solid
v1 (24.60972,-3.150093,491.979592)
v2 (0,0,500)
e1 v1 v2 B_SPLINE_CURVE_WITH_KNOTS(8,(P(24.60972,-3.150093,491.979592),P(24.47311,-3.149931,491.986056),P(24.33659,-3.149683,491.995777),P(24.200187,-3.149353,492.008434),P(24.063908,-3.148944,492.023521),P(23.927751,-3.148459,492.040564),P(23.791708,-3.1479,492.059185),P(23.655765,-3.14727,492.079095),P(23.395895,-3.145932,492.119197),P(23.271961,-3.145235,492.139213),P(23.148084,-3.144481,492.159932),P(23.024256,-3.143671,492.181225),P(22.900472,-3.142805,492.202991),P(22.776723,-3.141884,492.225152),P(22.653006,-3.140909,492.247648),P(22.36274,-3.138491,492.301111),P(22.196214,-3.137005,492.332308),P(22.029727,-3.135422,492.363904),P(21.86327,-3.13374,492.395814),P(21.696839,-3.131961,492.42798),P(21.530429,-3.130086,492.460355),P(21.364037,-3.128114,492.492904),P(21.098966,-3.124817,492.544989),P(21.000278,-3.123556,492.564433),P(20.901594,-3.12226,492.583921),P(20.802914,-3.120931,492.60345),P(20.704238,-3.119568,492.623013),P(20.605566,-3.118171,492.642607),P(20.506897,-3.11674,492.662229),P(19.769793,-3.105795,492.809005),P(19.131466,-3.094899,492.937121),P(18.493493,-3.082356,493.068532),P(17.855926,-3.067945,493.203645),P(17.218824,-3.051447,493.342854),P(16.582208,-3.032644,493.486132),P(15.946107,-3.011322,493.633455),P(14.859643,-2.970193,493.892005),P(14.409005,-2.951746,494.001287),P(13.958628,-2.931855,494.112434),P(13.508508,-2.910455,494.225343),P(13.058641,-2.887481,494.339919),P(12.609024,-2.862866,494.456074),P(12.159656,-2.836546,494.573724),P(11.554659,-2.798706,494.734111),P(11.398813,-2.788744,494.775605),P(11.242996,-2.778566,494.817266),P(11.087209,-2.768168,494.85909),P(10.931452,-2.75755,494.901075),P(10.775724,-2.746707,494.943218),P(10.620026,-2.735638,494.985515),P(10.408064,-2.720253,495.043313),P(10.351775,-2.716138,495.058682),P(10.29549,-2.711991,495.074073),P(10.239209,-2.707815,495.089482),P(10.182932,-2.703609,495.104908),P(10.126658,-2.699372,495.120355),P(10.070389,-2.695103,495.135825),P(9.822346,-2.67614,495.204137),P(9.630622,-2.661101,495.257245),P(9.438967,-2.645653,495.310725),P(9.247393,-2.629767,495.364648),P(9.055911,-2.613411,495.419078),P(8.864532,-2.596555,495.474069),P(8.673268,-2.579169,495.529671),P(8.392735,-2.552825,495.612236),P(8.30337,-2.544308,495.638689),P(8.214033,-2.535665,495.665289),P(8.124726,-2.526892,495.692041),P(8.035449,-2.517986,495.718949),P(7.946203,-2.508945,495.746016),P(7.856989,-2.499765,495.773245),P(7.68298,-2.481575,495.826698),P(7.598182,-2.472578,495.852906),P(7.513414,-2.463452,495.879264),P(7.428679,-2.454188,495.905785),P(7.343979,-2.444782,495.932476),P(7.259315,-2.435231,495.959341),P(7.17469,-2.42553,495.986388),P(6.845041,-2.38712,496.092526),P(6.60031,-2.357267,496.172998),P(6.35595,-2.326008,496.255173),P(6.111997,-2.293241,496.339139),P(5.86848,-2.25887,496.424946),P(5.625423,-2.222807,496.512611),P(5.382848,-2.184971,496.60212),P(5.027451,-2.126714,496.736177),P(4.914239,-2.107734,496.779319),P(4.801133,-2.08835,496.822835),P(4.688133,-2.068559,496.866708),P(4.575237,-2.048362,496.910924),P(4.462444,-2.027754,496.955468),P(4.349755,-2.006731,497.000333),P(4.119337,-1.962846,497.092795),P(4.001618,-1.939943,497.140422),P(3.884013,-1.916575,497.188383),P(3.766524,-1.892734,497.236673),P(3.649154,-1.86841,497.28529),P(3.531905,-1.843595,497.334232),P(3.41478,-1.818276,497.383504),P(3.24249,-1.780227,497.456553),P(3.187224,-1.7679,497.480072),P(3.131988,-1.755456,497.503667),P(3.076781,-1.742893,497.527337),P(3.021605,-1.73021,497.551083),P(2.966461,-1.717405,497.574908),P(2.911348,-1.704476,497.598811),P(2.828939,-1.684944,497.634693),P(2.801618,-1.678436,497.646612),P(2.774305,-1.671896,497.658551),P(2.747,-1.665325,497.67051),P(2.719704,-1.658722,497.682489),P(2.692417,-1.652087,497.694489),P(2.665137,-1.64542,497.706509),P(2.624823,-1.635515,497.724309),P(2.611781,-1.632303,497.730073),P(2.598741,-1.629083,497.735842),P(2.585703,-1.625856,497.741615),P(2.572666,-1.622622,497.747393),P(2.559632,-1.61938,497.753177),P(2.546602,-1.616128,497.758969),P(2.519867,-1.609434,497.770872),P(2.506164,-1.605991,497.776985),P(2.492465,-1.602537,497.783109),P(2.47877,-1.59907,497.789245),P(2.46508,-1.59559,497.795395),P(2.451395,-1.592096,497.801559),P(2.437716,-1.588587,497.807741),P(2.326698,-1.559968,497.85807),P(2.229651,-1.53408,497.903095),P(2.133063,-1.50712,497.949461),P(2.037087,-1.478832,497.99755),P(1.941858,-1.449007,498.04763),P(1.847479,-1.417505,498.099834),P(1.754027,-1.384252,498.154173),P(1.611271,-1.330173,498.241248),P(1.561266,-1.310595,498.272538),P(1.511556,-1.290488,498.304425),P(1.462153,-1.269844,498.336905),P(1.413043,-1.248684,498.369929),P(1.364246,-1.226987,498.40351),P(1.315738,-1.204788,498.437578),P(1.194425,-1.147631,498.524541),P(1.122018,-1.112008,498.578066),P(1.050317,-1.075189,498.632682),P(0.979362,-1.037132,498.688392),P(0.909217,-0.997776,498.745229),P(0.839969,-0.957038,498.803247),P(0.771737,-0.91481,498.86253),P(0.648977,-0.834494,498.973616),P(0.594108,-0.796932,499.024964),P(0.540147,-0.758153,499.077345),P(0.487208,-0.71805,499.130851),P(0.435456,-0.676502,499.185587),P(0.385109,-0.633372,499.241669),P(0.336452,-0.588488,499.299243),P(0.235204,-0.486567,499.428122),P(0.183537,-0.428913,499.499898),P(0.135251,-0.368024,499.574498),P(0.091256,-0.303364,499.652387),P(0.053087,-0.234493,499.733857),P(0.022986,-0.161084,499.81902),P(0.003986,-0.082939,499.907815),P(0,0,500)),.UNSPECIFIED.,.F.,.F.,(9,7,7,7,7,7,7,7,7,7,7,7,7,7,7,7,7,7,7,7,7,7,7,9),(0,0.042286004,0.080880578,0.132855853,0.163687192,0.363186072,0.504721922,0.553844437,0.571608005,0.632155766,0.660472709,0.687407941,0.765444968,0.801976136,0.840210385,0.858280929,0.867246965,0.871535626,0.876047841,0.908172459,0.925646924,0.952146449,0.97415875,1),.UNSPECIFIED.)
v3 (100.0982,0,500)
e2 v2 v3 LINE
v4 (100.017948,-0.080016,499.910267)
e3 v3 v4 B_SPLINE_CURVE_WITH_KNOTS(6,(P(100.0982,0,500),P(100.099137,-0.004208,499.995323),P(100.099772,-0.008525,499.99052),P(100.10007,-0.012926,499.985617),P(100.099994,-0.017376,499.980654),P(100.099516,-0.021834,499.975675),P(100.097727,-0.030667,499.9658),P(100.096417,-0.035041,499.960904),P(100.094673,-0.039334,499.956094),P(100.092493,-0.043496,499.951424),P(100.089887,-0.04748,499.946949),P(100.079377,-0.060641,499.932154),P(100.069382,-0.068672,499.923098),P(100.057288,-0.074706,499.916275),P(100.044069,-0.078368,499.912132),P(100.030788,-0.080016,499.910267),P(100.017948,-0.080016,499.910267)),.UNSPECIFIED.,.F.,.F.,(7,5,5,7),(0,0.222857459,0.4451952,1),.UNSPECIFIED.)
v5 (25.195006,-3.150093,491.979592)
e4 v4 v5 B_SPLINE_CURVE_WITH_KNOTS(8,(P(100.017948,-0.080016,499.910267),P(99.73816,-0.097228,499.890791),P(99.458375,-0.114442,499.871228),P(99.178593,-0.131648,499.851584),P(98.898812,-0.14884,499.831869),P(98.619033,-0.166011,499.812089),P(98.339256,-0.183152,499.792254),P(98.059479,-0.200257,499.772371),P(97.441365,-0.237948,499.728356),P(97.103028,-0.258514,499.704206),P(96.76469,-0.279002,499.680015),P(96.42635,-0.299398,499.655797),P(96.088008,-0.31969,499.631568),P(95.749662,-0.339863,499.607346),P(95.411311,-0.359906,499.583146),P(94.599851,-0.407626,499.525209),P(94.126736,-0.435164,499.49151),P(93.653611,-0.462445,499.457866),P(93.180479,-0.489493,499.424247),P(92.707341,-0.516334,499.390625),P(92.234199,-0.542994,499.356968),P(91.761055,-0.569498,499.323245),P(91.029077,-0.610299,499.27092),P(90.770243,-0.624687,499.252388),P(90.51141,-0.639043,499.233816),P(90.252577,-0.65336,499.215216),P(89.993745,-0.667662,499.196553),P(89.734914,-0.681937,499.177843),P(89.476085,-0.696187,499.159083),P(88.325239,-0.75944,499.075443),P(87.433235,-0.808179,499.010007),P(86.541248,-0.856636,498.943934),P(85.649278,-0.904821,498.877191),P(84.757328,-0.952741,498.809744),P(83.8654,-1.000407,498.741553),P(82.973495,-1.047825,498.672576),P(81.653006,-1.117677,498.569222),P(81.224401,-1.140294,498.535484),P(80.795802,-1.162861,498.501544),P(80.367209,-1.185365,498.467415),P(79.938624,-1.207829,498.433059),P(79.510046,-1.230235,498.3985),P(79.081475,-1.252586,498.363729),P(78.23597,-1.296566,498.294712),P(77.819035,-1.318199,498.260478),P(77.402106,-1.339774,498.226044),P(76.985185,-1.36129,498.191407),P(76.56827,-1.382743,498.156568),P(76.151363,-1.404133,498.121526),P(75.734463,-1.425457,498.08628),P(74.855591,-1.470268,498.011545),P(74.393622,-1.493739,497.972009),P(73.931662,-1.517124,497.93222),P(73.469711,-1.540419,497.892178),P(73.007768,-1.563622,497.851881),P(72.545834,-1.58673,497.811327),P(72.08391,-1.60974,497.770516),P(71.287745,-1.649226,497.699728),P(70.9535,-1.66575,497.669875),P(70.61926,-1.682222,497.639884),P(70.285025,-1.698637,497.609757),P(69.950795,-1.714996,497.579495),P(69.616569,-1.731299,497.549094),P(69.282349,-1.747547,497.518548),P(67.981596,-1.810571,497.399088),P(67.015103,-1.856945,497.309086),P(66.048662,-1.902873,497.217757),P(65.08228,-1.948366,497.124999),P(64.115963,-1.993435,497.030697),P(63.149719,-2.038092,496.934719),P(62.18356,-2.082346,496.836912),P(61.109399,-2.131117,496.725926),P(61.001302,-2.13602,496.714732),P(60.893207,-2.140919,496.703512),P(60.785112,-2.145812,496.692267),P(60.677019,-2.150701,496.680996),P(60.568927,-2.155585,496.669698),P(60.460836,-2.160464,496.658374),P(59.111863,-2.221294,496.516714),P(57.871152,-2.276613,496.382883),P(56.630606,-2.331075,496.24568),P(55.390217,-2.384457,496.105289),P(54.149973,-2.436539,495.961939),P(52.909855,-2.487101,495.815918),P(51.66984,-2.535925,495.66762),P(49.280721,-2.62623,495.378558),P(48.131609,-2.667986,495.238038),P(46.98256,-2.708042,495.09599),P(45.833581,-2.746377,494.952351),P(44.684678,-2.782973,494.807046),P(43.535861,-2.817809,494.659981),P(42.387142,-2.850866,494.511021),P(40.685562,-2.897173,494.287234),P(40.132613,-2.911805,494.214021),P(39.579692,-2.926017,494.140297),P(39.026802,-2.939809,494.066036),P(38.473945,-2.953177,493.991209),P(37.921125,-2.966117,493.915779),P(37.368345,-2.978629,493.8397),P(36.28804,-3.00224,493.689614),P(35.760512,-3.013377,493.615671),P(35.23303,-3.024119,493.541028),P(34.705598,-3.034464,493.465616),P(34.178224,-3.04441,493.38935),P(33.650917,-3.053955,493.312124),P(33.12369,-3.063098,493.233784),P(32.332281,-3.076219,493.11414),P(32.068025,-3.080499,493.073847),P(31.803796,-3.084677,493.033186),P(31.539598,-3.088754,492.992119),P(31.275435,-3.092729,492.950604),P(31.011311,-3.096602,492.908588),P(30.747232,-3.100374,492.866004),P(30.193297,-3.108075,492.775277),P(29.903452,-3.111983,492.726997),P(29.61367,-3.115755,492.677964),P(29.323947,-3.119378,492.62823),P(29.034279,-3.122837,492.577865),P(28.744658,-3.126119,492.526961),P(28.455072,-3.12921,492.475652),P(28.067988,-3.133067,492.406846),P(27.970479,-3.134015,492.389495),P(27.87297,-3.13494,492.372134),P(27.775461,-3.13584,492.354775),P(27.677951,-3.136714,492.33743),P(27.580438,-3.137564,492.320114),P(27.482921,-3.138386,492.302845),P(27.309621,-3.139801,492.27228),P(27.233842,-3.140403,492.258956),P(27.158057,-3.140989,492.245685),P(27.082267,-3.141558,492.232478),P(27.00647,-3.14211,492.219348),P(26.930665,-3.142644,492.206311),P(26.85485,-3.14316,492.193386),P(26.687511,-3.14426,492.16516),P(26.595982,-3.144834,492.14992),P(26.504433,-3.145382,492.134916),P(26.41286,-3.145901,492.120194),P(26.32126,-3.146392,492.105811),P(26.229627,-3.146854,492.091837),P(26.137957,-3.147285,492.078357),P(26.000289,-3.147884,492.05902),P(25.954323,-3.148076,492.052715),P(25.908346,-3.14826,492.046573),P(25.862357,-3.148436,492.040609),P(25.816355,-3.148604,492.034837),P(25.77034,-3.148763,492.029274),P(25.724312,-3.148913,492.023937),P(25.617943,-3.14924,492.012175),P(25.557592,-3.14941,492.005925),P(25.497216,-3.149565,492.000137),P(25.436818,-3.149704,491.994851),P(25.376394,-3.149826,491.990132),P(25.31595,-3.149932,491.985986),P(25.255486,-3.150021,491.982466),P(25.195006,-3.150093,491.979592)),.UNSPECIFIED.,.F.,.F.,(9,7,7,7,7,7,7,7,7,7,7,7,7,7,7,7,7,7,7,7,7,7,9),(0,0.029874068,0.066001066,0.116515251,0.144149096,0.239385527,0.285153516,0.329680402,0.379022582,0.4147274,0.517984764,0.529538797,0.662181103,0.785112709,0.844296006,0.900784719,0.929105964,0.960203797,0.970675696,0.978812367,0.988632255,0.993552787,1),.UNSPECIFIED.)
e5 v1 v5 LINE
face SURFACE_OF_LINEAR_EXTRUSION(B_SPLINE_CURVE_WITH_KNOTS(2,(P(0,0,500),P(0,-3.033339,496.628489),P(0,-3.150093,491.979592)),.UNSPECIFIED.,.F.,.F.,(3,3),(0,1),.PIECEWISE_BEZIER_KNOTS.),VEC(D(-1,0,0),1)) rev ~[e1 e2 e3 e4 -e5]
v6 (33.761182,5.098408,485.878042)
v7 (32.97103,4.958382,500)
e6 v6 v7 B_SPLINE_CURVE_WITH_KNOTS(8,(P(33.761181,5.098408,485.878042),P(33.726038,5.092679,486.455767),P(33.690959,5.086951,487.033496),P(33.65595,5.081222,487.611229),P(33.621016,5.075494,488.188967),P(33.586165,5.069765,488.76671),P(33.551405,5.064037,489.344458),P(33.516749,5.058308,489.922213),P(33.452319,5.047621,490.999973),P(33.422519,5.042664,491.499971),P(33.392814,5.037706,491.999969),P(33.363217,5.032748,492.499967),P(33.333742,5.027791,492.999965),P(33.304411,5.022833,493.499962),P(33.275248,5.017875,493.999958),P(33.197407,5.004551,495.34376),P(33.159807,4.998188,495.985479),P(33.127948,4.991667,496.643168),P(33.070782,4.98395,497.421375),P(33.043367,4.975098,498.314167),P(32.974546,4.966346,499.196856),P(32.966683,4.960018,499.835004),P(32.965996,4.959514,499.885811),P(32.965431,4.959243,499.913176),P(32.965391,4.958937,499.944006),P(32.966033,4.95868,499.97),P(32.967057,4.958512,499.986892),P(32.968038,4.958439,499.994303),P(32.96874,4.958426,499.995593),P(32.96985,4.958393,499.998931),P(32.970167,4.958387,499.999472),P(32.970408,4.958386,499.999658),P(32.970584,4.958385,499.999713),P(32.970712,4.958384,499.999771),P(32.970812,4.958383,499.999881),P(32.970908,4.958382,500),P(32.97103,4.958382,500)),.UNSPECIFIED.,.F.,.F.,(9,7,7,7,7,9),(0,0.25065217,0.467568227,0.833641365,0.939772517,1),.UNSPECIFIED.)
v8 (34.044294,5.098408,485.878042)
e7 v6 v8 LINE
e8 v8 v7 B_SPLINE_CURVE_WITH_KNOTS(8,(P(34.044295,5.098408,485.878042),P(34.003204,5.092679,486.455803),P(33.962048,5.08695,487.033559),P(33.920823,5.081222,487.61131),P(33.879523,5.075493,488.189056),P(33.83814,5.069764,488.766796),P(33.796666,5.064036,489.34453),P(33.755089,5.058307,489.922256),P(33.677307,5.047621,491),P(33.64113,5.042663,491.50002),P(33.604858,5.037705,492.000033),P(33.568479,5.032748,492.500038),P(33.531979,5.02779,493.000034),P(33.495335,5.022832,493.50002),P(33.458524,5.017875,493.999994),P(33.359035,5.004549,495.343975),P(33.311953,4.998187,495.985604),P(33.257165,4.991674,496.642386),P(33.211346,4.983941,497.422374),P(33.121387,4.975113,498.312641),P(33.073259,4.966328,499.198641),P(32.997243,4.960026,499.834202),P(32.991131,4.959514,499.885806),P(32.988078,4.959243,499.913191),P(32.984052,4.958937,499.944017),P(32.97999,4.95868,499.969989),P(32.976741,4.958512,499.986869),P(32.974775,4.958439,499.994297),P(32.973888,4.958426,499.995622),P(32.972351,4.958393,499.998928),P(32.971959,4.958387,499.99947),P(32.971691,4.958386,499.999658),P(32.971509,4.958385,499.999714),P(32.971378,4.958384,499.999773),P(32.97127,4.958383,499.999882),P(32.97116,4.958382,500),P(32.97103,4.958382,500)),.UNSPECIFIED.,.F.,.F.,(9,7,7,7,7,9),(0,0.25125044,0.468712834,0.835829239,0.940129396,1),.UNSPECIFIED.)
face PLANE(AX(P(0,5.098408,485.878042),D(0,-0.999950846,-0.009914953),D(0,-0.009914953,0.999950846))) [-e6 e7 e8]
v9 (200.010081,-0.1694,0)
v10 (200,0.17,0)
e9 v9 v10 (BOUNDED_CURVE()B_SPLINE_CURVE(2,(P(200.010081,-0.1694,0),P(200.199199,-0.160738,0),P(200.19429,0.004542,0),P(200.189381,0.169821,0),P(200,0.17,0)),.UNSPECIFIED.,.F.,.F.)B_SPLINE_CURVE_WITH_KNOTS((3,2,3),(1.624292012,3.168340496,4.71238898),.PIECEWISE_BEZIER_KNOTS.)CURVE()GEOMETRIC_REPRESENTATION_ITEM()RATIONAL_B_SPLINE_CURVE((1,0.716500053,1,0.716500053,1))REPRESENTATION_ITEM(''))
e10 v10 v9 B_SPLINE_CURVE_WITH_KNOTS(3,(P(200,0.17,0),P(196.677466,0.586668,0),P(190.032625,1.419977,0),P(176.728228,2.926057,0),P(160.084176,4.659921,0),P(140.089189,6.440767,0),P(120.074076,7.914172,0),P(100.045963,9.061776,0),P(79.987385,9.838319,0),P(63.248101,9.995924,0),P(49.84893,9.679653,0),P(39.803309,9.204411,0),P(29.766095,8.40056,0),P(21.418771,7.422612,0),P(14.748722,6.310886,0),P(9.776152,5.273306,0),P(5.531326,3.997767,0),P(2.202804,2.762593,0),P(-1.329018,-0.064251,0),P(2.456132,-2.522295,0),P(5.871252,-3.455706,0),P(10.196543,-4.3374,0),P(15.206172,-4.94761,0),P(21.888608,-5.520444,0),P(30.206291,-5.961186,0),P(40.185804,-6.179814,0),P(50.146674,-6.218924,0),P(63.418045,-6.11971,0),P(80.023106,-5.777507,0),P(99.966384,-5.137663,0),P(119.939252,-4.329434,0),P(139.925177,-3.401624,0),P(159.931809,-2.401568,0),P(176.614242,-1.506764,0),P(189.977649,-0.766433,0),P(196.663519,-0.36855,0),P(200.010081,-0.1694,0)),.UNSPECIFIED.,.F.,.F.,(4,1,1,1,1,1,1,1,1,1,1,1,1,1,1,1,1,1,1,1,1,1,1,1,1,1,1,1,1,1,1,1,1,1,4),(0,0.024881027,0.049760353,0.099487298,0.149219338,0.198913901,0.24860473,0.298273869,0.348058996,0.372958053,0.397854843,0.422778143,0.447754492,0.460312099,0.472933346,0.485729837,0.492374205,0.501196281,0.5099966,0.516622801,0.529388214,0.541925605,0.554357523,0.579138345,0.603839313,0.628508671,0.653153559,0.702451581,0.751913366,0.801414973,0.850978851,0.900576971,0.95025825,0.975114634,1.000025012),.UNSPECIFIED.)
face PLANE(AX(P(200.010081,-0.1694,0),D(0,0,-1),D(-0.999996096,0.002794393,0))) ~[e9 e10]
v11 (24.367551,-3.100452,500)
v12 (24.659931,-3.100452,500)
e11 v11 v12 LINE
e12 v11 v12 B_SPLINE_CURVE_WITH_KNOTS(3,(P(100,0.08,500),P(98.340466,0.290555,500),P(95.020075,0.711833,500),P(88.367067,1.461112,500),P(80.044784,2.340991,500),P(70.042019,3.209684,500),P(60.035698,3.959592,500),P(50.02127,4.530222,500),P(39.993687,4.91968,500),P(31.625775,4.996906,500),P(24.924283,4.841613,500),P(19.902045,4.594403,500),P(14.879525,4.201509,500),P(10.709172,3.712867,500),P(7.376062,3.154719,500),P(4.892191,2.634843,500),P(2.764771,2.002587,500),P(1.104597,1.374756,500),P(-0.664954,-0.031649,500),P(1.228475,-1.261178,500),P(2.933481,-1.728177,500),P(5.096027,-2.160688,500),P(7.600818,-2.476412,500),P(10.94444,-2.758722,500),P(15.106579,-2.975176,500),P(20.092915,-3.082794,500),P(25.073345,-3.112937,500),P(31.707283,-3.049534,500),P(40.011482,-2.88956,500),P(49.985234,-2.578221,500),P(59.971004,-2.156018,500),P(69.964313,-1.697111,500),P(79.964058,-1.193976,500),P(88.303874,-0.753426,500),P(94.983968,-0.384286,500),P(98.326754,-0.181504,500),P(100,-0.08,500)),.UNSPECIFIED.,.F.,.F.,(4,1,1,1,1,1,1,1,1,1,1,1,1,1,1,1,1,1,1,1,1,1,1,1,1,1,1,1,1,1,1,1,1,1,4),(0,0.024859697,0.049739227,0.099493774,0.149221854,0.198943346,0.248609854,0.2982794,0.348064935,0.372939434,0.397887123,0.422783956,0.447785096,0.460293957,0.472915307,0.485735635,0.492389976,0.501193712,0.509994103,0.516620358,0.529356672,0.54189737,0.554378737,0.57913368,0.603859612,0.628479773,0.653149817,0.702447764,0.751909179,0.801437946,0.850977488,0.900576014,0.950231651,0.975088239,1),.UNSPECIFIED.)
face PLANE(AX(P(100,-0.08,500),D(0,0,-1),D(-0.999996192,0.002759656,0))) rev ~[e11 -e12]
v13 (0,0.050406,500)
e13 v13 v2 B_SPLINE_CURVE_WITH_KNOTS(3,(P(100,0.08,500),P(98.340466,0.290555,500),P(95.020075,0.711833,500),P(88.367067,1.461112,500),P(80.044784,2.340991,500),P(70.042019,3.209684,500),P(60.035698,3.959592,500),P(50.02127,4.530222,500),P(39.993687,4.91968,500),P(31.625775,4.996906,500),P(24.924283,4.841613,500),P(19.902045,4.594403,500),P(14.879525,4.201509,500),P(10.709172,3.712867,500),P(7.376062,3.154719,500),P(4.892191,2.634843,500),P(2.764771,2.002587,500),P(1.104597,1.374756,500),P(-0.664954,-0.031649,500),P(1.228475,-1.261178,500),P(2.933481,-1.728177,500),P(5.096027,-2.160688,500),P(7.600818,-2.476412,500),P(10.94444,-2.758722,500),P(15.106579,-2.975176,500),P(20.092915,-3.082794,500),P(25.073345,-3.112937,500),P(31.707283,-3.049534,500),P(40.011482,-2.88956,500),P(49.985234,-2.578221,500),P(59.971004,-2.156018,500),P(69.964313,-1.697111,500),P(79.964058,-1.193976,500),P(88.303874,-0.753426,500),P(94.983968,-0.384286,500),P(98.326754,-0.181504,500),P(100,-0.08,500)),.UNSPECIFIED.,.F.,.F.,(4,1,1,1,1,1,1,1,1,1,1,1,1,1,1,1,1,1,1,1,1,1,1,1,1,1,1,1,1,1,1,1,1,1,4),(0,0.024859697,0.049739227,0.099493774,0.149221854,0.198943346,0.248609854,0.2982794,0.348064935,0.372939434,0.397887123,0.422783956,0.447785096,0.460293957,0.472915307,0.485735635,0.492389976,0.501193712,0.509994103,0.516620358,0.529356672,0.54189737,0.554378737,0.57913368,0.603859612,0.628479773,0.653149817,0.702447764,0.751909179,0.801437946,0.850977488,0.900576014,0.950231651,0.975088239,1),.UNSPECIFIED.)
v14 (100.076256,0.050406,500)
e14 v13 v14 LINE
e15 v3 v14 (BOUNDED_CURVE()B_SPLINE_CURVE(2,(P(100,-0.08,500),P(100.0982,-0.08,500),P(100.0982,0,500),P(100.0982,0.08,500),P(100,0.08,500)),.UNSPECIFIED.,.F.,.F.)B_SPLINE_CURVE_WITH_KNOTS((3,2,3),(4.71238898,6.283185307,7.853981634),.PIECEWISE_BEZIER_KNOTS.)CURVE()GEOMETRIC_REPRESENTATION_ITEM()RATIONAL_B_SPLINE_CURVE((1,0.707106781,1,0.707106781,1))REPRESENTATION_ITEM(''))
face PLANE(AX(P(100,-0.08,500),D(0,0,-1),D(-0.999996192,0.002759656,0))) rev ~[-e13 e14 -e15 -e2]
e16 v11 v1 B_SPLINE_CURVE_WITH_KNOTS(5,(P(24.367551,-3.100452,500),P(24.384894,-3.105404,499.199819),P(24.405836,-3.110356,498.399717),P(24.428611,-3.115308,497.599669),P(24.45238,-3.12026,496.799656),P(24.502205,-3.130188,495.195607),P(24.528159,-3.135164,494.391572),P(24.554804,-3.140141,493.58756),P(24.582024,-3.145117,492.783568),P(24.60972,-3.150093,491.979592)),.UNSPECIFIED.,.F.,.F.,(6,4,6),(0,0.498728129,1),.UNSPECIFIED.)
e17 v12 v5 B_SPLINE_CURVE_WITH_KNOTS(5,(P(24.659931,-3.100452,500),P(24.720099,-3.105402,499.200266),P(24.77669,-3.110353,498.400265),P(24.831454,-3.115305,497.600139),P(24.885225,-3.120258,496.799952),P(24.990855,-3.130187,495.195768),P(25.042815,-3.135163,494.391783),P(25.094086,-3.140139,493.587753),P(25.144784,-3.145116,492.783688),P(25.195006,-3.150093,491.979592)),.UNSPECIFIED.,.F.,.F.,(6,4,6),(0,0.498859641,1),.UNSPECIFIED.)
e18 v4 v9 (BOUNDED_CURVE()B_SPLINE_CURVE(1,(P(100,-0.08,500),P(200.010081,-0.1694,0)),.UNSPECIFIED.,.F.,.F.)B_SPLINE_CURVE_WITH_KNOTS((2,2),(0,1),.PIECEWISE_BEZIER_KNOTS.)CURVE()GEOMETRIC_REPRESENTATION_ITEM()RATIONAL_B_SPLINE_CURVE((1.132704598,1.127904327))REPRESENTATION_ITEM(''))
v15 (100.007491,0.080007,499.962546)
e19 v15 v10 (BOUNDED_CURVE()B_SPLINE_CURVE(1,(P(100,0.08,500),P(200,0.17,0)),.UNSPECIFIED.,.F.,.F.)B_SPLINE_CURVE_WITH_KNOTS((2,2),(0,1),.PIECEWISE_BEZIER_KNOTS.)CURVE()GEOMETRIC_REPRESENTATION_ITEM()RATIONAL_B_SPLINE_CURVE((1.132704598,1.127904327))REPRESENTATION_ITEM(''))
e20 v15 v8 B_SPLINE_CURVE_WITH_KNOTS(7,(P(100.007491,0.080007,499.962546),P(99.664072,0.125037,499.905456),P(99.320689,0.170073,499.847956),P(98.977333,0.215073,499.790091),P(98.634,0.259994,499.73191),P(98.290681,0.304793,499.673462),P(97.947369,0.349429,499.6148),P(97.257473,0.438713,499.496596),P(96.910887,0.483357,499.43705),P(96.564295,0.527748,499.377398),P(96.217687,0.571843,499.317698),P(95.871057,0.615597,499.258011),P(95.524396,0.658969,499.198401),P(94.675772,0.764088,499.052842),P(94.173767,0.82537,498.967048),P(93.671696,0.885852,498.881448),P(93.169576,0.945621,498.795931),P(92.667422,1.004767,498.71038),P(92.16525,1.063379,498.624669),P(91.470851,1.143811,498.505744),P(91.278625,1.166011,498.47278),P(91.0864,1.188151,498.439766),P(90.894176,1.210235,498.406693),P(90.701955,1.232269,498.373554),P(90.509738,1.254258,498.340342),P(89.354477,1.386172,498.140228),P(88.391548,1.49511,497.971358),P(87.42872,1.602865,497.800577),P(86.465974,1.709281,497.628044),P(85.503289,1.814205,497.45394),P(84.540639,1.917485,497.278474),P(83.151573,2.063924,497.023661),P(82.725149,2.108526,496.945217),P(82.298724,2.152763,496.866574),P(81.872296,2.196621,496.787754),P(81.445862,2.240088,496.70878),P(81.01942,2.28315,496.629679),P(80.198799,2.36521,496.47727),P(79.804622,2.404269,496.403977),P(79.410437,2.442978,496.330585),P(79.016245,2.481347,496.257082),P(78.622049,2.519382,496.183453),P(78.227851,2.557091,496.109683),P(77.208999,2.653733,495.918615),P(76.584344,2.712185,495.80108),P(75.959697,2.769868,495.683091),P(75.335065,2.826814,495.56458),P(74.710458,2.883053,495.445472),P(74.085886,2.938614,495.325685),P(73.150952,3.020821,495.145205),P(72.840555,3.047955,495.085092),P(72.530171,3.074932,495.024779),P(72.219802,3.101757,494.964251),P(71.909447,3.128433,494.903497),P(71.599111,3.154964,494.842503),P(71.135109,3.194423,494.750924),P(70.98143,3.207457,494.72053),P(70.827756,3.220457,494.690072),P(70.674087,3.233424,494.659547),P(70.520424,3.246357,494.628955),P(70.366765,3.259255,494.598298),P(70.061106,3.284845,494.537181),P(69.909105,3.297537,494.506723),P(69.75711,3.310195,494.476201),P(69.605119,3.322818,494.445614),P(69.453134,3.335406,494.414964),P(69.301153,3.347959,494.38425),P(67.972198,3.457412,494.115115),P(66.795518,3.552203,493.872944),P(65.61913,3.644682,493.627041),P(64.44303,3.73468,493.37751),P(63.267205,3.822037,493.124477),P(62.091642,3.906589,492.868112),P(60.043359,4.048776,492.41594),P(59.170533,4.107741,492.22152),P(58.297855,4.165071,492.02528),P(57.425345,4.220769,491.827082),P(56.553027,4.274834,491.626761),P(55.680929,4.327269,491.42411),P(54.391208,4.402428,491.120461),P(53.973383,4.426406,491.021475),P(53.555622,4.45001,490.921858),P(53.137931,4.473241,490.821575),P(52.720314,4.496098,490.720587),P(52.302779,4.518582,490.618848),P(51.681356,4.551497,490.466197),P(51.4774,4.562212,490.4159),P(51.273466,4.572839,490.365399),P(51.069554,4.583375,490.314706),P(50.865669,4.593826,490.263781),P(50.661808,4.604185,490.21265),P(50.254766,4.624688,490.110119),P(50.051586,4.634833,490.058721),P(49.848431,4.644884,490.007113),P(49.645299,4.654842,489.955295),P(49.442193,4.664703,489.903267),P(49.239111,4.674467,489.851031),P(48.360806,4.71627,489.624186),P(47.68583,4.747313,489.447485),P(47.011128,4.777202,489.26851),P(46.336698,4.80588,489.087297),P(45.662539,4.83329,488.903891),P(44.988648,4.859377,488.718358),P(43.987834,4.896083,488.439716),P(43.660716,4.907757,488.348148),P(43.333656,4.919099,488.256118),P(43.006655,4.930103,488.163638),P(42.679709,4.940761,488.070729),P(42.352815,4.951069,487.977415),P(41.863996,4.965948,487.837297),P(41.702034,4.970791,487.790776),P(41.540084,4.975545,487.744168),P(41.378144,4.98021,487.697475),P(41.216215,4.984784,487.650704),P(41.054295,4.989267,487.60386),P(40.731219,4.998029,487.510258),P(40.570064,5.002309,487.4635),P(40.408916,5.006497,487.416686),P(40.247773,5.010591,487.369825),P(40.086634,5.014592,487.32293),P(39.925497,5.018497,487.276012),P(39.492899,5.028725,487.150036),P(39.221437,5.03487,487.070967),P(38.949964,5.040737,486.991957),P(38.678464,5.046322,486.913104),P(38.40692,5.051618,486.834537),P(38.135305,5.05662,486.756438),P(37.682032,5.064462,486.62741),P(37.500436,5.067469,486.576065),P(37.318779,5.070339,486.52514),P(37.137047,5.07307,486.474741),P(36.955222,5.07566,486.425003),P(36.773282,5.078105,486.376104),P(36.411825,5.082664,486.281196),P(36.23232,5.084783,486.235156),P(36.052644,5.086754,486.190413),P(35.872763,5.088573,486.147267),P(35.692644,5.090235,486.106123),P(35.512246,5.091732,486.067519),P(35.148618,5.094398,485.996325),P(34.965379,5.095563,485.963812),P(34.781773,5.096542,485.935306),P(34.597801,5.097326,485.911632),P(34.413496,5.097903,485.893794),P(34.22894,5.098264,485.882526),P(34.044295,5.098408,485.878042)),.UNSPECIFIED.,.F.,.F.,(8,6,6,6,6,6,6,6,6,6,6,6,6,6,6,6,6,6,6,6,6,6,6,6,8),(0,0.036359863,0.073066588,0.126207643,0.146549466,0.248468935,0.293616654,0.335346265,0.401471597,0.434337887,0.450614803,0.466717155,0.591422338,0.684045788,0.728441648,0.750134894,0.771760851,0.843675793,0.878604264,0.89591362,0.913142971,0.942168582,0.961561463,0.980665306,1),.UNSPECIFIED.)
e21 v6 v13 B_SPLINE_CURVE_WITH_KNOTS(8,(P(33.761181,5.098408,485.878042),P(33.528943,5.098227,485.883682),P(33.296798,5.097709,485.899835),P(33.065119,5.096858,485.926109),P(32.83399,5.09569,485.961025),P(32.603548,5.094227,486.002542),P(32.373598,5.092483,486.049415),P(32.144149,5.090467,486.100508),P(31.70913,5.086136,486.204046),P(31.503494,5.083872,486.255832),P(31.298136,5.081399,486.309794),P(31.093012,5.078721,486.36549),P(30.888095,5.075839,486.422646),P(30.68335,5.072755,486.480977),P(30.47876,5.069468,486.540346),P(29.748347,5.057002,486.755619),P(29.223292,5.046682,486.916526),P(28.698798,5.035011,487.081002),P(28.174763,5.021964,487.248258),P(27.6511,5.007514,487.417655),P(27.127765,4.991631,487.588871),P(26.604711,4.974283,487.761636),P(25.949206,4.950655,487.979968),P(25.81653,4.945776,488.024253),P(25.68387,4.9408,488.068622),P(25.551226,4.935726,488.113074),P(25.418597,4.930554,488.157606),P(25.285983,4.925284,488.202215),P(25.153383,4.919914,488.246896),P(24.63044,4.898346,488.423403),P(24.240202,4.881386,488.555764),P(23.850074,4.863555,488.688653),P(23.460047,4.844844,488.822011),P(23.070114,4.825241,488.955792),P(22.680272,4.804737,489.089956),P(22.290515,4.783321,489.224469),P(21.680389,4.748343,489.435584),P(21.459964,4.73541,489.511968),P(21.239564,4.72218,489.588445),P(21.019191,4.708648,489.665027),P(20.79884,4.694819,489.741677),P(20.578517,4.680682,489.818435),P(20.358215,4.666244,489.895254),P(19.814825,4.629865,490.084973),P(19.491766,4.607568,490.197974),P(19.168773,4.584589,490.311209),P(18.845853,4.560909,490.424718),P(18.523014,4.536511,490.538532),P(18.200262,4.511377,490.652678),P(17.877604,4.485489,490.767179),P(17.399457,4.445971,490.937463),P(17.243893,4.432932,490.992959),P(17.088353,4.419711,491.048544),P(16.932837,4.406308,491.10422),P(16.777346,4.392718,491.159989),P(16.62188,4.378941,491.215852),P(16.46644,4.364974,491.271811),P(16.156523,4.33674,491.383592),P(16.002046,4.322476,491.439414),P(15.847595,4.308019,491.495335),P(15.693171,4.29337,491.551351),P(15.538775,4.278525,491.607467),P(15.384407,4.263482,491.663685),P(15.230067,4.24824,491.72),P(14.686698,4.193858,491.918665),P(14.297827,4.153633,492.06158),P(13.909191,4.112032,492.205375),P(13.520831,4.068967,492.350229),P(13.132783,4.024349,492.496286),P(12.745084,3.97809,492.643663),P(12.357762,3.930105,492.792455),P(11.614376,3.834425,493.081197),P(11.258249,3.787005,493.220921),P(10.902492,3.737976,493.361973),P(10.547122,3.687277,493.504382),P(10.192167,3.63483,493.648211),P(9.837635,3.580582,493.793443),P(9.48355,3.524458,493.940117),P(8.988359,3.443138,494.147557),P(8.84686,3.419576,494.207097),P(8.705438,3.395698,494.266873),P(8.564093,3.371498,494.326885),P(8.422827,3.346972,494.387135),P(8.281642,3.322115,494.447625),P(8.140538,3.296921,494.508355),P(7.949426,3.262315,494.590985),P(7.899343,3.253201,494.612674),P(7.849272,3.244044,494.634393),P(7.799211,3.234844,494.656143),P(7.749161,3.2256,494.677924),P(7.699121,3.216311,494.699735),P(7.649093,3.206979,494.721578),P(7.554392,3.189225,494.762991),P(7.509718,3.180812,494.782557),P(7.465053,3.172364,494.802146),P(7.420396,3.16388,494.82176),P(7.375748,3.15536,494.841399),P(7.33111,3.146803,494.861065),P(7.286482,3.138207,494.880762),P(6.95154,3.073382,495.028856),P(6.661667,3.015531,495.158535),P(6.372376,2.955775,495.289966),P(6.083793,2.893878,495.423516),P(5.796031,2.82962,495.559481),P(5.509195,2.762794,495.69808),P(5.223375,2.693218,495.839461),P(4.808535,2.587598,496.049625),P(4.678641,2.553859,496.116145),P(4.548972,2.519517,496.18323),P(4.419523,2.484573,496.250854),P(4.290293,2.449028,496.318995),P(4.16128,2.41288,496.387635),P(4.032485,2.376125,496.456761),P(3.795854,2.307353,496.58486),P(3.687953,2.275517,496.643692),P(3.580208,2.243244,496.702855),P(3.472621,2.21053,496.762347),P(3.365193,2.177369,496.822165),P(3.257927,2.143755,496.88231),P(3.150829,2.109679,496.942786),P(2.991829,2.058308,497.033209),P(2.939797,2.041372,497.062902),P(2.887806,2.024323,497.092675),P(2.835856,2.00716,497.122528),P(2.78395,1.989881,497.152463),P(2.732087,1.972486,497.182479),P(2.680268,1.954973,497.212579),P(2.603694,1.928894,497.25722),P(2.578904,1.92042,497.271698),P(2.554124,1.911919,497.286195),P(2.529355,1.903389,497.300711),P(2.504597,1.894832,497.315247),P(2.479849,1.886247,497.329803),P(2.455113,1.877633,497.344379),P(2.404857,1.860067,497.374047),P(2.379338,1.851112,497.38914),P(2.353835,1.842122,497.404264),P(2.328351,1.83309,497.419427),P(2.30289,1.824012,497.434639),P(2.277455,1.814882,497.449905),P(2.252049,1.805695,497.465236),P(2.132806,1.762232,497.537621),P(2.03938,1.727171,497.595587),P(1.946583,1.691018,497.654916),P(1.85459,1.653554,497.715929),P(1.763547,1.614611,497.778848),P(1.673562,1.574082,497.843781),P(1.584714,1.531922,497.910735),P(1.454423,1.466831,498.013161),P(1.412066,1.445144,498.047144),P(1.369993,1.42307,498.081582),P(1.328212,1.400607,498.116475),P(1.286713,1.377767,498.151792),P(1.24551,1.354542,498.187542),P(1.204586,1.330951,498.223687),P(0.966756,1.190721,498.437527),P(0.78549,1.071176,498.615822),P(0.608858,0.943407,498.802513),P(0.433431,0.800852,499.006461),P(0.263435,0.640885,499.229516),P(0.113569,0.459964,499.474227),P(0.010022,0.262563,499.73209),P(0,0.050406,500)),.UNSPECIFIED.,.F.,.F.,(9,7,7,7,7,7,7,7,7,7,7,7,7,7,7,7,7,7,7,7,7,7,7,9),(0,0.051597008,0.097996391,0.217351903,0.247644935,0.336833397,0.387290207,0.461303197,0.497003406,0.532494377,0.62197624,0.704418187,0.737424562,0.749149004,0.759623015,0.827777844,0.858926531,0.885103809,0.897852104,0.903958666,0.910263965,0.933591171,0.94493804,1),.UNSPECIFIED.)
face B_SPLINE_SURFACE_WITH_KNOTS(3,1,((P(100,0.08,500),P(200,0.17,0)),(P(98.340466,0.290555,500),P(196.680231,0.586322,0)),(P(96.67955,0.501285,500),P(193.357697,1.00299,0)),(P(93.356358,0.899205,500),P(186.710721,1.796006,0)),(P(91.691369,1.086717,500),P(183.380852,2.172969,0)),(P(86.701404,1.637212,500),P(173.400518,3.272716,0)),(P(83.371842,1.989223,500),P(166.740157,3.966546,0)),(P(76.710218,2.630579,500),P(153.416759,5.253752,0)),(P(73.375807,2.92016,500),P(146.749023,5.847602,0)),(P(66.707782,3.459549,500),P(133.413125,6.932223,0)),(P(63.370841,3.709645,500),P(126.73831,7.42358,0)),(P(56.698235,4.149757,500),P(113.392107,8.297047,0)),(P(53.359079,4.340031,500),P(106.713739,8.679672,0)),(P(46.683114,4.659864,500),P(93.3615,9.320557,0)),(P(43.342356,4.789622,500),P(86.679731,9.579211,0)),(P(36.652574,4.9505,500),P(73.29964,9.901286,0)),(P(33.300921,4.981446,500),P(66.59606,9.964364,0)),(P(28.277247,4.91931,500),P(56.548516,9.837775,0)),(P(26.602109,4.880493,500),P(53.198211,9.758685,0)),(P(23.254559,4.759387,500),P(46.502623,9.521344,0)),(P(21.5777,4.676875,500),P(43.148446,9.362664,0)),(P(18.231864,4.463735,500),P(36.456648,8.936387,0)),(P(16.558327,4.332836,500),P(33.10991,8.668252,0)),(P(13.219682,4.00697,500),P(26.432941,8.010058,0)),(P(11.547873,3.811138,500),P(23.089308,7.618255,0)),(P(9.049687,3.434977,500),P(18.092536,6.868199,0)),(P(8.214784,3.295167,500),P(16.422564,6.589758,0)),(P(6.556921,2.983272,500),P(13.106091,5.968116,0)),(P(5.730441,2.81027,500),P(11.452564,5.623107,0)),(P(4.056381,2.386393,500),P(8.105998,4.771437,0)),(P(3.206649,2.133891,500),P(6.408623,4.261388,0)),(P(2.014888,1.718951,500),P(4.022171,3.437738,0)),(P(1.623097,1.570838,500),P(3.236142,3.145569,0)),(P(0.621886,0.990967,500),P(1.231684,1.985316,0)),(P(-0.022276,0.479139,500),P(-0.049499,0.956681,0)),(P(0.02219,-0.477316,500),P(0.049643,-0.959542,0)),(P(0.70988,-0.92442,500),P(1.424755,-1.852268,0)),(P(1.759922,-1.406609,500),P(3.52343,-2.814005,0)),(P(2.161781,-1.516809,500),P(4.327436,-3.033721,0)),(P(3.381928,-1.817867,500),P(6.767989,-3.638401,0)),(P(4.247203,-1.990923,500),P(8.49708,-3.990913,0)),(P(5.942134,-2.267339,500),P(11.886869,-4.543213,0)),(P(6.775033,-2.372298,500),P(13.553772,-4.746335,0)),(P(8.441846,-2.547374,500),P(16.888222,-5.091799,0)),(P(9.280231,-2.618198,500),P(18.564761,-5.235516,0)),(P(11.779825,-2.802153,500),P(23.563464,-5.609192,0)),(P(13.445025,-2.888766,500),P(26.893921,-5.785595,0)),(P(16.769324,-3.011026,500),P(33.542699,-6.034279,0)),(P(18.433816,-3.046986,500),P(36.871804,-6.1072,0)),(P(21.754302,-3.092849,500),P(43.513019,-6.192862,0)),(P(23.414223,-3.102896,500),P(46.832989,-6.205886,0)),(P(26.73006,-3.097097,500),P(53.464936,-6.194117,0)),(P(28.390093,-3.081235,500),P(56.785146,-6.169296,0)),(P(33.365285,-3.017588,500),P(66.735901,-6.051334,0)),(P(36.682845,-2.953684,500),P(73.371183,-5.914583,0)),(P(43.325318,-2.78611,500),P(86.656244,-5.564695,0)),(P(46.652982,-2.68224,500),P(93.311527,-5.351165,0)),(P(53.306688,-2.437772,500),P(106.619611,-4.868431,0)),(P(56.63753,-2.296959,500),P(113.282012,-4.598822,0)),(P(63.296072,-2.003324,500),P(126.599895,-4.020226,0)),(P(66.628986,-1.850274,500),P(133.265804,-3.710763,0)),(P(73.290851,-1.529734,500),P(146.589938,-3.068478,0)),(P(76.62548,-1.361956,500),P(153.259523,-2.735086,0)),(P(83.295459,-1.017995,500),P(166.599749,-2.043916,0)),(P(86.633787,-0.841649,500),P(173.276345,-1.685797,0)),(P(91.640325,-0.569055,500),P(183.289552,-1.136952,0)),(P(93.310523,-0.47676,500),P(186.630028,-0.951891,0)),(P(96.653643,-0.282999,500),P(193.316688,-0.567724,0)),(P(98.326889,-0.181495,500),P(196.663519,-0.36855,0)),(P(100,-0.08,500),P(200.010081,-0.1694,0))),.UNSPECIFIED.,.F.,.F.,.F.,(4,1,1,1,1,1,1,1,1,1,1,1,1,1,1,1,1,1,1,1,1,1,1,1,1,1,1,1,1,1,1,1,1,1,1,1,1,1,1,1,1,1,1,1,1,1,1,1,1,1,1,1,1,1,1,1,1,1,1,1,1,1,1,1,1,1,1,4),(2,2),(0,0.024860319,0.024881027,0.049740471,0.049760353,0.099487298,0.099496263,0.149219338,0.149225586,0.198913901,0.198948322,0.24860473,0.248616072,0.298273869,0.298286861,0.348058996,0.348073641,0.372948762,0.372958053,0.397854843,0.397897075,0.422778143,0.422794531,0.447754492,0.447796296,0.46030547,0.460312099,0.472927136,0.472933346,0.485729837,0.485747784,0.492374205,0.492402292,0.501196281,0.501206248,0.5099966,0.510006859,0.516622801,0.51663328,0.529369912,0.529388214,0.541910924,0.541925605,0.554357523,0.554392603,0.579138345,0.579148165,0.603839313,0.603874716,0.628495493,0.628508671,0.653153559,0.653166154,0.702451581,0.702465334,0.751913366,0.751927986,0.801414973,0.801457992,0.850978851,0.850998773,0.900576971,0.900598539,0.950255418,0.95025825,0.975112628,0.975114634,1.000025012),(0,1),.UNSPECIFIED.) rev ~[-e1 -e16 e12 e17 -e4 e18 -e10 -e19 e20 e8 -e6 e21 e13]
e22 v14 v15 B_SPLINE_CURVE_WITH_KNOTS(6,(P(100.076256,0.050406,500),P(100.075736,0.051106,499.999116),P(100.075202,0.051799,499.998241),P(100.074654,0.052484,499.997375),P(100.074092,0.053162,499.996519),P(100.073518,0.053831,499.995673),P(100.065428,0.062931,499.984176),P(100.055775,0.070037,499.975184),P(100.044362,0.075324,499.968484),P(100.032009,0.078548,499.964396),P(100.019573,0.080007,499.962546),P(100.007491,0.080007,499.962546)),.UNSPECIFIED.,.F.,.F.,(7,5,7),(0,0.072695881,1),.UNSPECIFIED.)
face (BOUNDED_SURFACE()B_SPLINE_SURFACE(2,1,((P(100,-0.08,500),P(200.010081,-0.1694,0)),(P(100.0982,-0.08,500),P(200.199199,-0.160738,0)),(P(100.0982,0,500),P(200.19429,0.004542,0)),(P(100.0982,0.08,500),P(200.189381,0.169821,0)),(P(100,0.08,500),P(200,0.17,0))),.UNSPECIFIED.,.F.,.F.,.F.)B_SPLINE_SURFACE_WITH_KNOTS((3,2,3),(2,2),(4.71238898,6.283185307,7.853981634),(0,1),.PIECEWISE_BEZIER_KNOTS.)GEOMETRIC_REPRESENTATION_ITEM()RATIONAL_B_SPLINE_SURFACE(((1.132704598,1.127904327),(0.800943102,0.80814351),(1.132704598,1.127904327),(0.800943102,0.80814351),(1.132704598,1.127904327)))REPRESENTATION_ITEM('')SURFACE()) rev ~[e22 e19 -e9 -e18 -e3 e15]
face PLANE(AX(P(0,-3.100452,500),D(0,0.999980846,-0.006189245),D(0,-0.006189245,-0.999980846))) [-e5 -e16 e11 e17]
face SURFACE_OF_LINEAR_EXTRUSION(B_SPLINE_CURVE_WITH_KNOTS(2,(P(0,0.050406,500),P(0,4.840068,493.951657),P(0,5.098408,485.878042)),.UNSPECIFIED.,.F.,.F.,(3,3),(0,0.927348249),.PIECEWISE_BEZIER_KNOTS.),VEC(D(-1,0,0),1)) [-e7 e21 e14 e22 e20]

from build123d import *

# Parameters (mm, degrees)
CUT_EXTRUDE3_DEPTH = 124


with BuildPart() as part:
    # Sketch8 → Loft3 section 0
    with BuildSketch(Plane.XY.offset(500)):
        with BuildLine():
            add(Edge.make_bspline(
                [(100, -0.08), (100.0982003, -0.08), (100.0982003, 0), (100.0982003, 0.08), (100, 0.08)],
                knots=[4.71238898, 4.71238898, 4.71238898, 6.283185307, 6.283185307, 7.853981634, 7.853981634, 7.853981634], degree=2, weights=[1, 0.707106781, 1, 0.707106781, 1]))
            add(Edge.make_bspline(
                [(100, 0.08), (98.340466343, 0.290554896), (95.020075081, 0.711832664), (88.367066975, 1.461111617), (80.044783911, 2.340991399), (70.042018792, 3.209683957), (60.035698152, 3.95959195), (50.021269895, 4.530222255), (39.993687201, 4.919679947), (31.625774727, 4.996905547), (24.924282842, 4.841612636), (19.902045273, 4.594402976), (14.879525224, 4.201509171), (10.709171986, 3.712867098), (7.37606212, 3.154718725), (4.892191024, 2.634842874), (2.764771035, 2.002586955), (1.104596609, 1.374755566), (-0.664953668, -0.03164864), (1.228475023, -1.261178162), (2.933481266, -1.728176773), (5.096027037, -2.160688432), (7.600818069, -2.476412386), (10.944440272, -2.758722273), (15.106579217, -2.975175789), (20.092914843, -3.082794275), (25.073344536, -3.112937235), (31.707283293, -3.049534144), (40.011481521, -2.889560409), (49.985234319, -2.578220754), (59.971004018, -2.156017771), (69.964312978, -1.697111032), (79.964057863, -1.193976405), (88.303873939, -0.753426461), (94.983968373, -0.384285875), (98.326754181, -0.18150356), (100, -0.08)],
                knots=[0, 0, 0, 0, 0.024859697, 0.049739227, 0.099493774, 0.149221854, 0.198943346, 0.248609854, 0.2982794, 0.348064935, 0.372939434, 0.397887123, 0.422783956, 0.447785096, 0.460293957, 0.472915307, 0.485735635, 0.492389976, 0.501193712, 0.509994103, 0.516620358, 0.529356672, 0.54189737, 0.554378737, 0.57913368, 0.603859612, 0.628479773, 0.653149817, 0.702447764, 0.751909179, 0.801437946, 0.850977488, 0.900576014, 0.950231651, 0.975088239, 1, 1, 1, 1], degree=3))
        make_face()
    # Sketch1 → Loft3 section 1
    with BuildSketch(Plane.XY):
        with BuildLine():
            add(Edge.make_bspline(
                [(200.010080815, -0.169400102), (200.199199383, -0.16073795), (200.194290269, 0.004541752), (200.189381154, 0.169821455), (200, 0.17)],
                knots=[1.624292012, 1.624292012, 1.624292012, 3.168340496, 3.168340496, 4.71238898, 4.71238898, 4.71238898], degree=2, weights=[1, 0.716500053, 1, 0.716500053, 1]))
            add(Edge.make_bspline(
                [(200, 0.17), (196.67746604, 0.586668366), (190.032625306, 1.419976608), (176.728227903, 2.926057493), (160.084175509, 4.659920637), (140.089189156, 6.440767193), (120.07407578, 7.914172421), (100.045962927, 9.061776054), (79.987385072, 9.838318802), (63.248100853, 9.995924185), (49.848929727, 9.67965264), (39.803308698, 9.20441105), (29.766094955, 8.400560173), (21.418771198, 7.422612273), (14.748722178, 6.310885624), (9.776151548, 5.27330599), (5.531325518, 3.997766679), (2.202803508, 2.762593198), (-1.32901831, -0.064251043), (2.456132017, -2.522294641), (5.871252454, -3.45570584), (10.196542856, -4.337399818), (15.206171707, -4.947610022), (21.888608284, -5.520443609), (30.206290628, -5.96118593), (40.185803884, -6.179814241), (50.146674245, -6.21892414), (63.418045304, -6.119709778), (80.02310567, -5.77750732), (99.966383809, -5.137663307), (119.939251517, -4.329433955), (139.925177362, -3.401624295), (159.931809305, -2.40156831), (176.614241921, -1.506763536), (189.977649107, -0.766432974), (196.66351869, -0.368550354), (200.010080815, -0.169400102)],
                knots=[0, 0, 0, 0, 0.024881027, 0.049760353, 0.099487298, 0.149219338, 0.198913901, 0.24860473, 0.298273869, 0.348058996, 0.372958053, 0.397854843, 0.422778143, 0.447754492, 0.460312099, 0.472933346, 0.485729837, 0.492374205, 0.501196281, 0.5099966, 0.516622801, 0.529388214, 0.541925605, 0.554357523, 0.579138345, 0.603839313, 0.628508671, 0.653153559, 0.702451581, 0.751913366, 0.801414973, 0.850978851, 0.900576971, 0.95025825, 0.975114634, 1.000025012, 1.000025012, 1.000025012, 1.000025012], degree=3))
        make_face()
    loft()

    # Sketch30 → Cut-Extrude3 (cut)
    with BuildSketch(Plane(origin=(0, 0, 0), x_dir=(0, 0, -1), z_dir=(1, 0, 0))):
        with BuildLine():
            Line((-500, 4.958382219), (-500, 0.050406))
            add(Edge.make_bspline(
                [(-500, 0.050406), (-493.951656901, 4.84006767), (-485.878042071, 5.098407649)],
                knots=[0, 0, 0, 0.927348249, 0.927348249, 0.927348249], degree=2))
            Line((-485.878042071, 5.098407649), (-500, 4.958382219))
        make_face()
        with BuildLine():
            add(Edge.make_bspline(
                [(-500, 0), (-496.628488842, -3.033339473), (-491.979592326, -3.150092909)],
                knots=[0, 0, 0, 1, 1, 1], degree=2))
            Line((-500, 0), (-500, -3.100451691))
            Line((-500, -3.100451691), (-491.979592326, -3.150092909))
        make_face()
    extrude(amount=CUT_EXTRUDE3_DEPTH, mode=Mode.SUBTRACT)


solid = part.part
